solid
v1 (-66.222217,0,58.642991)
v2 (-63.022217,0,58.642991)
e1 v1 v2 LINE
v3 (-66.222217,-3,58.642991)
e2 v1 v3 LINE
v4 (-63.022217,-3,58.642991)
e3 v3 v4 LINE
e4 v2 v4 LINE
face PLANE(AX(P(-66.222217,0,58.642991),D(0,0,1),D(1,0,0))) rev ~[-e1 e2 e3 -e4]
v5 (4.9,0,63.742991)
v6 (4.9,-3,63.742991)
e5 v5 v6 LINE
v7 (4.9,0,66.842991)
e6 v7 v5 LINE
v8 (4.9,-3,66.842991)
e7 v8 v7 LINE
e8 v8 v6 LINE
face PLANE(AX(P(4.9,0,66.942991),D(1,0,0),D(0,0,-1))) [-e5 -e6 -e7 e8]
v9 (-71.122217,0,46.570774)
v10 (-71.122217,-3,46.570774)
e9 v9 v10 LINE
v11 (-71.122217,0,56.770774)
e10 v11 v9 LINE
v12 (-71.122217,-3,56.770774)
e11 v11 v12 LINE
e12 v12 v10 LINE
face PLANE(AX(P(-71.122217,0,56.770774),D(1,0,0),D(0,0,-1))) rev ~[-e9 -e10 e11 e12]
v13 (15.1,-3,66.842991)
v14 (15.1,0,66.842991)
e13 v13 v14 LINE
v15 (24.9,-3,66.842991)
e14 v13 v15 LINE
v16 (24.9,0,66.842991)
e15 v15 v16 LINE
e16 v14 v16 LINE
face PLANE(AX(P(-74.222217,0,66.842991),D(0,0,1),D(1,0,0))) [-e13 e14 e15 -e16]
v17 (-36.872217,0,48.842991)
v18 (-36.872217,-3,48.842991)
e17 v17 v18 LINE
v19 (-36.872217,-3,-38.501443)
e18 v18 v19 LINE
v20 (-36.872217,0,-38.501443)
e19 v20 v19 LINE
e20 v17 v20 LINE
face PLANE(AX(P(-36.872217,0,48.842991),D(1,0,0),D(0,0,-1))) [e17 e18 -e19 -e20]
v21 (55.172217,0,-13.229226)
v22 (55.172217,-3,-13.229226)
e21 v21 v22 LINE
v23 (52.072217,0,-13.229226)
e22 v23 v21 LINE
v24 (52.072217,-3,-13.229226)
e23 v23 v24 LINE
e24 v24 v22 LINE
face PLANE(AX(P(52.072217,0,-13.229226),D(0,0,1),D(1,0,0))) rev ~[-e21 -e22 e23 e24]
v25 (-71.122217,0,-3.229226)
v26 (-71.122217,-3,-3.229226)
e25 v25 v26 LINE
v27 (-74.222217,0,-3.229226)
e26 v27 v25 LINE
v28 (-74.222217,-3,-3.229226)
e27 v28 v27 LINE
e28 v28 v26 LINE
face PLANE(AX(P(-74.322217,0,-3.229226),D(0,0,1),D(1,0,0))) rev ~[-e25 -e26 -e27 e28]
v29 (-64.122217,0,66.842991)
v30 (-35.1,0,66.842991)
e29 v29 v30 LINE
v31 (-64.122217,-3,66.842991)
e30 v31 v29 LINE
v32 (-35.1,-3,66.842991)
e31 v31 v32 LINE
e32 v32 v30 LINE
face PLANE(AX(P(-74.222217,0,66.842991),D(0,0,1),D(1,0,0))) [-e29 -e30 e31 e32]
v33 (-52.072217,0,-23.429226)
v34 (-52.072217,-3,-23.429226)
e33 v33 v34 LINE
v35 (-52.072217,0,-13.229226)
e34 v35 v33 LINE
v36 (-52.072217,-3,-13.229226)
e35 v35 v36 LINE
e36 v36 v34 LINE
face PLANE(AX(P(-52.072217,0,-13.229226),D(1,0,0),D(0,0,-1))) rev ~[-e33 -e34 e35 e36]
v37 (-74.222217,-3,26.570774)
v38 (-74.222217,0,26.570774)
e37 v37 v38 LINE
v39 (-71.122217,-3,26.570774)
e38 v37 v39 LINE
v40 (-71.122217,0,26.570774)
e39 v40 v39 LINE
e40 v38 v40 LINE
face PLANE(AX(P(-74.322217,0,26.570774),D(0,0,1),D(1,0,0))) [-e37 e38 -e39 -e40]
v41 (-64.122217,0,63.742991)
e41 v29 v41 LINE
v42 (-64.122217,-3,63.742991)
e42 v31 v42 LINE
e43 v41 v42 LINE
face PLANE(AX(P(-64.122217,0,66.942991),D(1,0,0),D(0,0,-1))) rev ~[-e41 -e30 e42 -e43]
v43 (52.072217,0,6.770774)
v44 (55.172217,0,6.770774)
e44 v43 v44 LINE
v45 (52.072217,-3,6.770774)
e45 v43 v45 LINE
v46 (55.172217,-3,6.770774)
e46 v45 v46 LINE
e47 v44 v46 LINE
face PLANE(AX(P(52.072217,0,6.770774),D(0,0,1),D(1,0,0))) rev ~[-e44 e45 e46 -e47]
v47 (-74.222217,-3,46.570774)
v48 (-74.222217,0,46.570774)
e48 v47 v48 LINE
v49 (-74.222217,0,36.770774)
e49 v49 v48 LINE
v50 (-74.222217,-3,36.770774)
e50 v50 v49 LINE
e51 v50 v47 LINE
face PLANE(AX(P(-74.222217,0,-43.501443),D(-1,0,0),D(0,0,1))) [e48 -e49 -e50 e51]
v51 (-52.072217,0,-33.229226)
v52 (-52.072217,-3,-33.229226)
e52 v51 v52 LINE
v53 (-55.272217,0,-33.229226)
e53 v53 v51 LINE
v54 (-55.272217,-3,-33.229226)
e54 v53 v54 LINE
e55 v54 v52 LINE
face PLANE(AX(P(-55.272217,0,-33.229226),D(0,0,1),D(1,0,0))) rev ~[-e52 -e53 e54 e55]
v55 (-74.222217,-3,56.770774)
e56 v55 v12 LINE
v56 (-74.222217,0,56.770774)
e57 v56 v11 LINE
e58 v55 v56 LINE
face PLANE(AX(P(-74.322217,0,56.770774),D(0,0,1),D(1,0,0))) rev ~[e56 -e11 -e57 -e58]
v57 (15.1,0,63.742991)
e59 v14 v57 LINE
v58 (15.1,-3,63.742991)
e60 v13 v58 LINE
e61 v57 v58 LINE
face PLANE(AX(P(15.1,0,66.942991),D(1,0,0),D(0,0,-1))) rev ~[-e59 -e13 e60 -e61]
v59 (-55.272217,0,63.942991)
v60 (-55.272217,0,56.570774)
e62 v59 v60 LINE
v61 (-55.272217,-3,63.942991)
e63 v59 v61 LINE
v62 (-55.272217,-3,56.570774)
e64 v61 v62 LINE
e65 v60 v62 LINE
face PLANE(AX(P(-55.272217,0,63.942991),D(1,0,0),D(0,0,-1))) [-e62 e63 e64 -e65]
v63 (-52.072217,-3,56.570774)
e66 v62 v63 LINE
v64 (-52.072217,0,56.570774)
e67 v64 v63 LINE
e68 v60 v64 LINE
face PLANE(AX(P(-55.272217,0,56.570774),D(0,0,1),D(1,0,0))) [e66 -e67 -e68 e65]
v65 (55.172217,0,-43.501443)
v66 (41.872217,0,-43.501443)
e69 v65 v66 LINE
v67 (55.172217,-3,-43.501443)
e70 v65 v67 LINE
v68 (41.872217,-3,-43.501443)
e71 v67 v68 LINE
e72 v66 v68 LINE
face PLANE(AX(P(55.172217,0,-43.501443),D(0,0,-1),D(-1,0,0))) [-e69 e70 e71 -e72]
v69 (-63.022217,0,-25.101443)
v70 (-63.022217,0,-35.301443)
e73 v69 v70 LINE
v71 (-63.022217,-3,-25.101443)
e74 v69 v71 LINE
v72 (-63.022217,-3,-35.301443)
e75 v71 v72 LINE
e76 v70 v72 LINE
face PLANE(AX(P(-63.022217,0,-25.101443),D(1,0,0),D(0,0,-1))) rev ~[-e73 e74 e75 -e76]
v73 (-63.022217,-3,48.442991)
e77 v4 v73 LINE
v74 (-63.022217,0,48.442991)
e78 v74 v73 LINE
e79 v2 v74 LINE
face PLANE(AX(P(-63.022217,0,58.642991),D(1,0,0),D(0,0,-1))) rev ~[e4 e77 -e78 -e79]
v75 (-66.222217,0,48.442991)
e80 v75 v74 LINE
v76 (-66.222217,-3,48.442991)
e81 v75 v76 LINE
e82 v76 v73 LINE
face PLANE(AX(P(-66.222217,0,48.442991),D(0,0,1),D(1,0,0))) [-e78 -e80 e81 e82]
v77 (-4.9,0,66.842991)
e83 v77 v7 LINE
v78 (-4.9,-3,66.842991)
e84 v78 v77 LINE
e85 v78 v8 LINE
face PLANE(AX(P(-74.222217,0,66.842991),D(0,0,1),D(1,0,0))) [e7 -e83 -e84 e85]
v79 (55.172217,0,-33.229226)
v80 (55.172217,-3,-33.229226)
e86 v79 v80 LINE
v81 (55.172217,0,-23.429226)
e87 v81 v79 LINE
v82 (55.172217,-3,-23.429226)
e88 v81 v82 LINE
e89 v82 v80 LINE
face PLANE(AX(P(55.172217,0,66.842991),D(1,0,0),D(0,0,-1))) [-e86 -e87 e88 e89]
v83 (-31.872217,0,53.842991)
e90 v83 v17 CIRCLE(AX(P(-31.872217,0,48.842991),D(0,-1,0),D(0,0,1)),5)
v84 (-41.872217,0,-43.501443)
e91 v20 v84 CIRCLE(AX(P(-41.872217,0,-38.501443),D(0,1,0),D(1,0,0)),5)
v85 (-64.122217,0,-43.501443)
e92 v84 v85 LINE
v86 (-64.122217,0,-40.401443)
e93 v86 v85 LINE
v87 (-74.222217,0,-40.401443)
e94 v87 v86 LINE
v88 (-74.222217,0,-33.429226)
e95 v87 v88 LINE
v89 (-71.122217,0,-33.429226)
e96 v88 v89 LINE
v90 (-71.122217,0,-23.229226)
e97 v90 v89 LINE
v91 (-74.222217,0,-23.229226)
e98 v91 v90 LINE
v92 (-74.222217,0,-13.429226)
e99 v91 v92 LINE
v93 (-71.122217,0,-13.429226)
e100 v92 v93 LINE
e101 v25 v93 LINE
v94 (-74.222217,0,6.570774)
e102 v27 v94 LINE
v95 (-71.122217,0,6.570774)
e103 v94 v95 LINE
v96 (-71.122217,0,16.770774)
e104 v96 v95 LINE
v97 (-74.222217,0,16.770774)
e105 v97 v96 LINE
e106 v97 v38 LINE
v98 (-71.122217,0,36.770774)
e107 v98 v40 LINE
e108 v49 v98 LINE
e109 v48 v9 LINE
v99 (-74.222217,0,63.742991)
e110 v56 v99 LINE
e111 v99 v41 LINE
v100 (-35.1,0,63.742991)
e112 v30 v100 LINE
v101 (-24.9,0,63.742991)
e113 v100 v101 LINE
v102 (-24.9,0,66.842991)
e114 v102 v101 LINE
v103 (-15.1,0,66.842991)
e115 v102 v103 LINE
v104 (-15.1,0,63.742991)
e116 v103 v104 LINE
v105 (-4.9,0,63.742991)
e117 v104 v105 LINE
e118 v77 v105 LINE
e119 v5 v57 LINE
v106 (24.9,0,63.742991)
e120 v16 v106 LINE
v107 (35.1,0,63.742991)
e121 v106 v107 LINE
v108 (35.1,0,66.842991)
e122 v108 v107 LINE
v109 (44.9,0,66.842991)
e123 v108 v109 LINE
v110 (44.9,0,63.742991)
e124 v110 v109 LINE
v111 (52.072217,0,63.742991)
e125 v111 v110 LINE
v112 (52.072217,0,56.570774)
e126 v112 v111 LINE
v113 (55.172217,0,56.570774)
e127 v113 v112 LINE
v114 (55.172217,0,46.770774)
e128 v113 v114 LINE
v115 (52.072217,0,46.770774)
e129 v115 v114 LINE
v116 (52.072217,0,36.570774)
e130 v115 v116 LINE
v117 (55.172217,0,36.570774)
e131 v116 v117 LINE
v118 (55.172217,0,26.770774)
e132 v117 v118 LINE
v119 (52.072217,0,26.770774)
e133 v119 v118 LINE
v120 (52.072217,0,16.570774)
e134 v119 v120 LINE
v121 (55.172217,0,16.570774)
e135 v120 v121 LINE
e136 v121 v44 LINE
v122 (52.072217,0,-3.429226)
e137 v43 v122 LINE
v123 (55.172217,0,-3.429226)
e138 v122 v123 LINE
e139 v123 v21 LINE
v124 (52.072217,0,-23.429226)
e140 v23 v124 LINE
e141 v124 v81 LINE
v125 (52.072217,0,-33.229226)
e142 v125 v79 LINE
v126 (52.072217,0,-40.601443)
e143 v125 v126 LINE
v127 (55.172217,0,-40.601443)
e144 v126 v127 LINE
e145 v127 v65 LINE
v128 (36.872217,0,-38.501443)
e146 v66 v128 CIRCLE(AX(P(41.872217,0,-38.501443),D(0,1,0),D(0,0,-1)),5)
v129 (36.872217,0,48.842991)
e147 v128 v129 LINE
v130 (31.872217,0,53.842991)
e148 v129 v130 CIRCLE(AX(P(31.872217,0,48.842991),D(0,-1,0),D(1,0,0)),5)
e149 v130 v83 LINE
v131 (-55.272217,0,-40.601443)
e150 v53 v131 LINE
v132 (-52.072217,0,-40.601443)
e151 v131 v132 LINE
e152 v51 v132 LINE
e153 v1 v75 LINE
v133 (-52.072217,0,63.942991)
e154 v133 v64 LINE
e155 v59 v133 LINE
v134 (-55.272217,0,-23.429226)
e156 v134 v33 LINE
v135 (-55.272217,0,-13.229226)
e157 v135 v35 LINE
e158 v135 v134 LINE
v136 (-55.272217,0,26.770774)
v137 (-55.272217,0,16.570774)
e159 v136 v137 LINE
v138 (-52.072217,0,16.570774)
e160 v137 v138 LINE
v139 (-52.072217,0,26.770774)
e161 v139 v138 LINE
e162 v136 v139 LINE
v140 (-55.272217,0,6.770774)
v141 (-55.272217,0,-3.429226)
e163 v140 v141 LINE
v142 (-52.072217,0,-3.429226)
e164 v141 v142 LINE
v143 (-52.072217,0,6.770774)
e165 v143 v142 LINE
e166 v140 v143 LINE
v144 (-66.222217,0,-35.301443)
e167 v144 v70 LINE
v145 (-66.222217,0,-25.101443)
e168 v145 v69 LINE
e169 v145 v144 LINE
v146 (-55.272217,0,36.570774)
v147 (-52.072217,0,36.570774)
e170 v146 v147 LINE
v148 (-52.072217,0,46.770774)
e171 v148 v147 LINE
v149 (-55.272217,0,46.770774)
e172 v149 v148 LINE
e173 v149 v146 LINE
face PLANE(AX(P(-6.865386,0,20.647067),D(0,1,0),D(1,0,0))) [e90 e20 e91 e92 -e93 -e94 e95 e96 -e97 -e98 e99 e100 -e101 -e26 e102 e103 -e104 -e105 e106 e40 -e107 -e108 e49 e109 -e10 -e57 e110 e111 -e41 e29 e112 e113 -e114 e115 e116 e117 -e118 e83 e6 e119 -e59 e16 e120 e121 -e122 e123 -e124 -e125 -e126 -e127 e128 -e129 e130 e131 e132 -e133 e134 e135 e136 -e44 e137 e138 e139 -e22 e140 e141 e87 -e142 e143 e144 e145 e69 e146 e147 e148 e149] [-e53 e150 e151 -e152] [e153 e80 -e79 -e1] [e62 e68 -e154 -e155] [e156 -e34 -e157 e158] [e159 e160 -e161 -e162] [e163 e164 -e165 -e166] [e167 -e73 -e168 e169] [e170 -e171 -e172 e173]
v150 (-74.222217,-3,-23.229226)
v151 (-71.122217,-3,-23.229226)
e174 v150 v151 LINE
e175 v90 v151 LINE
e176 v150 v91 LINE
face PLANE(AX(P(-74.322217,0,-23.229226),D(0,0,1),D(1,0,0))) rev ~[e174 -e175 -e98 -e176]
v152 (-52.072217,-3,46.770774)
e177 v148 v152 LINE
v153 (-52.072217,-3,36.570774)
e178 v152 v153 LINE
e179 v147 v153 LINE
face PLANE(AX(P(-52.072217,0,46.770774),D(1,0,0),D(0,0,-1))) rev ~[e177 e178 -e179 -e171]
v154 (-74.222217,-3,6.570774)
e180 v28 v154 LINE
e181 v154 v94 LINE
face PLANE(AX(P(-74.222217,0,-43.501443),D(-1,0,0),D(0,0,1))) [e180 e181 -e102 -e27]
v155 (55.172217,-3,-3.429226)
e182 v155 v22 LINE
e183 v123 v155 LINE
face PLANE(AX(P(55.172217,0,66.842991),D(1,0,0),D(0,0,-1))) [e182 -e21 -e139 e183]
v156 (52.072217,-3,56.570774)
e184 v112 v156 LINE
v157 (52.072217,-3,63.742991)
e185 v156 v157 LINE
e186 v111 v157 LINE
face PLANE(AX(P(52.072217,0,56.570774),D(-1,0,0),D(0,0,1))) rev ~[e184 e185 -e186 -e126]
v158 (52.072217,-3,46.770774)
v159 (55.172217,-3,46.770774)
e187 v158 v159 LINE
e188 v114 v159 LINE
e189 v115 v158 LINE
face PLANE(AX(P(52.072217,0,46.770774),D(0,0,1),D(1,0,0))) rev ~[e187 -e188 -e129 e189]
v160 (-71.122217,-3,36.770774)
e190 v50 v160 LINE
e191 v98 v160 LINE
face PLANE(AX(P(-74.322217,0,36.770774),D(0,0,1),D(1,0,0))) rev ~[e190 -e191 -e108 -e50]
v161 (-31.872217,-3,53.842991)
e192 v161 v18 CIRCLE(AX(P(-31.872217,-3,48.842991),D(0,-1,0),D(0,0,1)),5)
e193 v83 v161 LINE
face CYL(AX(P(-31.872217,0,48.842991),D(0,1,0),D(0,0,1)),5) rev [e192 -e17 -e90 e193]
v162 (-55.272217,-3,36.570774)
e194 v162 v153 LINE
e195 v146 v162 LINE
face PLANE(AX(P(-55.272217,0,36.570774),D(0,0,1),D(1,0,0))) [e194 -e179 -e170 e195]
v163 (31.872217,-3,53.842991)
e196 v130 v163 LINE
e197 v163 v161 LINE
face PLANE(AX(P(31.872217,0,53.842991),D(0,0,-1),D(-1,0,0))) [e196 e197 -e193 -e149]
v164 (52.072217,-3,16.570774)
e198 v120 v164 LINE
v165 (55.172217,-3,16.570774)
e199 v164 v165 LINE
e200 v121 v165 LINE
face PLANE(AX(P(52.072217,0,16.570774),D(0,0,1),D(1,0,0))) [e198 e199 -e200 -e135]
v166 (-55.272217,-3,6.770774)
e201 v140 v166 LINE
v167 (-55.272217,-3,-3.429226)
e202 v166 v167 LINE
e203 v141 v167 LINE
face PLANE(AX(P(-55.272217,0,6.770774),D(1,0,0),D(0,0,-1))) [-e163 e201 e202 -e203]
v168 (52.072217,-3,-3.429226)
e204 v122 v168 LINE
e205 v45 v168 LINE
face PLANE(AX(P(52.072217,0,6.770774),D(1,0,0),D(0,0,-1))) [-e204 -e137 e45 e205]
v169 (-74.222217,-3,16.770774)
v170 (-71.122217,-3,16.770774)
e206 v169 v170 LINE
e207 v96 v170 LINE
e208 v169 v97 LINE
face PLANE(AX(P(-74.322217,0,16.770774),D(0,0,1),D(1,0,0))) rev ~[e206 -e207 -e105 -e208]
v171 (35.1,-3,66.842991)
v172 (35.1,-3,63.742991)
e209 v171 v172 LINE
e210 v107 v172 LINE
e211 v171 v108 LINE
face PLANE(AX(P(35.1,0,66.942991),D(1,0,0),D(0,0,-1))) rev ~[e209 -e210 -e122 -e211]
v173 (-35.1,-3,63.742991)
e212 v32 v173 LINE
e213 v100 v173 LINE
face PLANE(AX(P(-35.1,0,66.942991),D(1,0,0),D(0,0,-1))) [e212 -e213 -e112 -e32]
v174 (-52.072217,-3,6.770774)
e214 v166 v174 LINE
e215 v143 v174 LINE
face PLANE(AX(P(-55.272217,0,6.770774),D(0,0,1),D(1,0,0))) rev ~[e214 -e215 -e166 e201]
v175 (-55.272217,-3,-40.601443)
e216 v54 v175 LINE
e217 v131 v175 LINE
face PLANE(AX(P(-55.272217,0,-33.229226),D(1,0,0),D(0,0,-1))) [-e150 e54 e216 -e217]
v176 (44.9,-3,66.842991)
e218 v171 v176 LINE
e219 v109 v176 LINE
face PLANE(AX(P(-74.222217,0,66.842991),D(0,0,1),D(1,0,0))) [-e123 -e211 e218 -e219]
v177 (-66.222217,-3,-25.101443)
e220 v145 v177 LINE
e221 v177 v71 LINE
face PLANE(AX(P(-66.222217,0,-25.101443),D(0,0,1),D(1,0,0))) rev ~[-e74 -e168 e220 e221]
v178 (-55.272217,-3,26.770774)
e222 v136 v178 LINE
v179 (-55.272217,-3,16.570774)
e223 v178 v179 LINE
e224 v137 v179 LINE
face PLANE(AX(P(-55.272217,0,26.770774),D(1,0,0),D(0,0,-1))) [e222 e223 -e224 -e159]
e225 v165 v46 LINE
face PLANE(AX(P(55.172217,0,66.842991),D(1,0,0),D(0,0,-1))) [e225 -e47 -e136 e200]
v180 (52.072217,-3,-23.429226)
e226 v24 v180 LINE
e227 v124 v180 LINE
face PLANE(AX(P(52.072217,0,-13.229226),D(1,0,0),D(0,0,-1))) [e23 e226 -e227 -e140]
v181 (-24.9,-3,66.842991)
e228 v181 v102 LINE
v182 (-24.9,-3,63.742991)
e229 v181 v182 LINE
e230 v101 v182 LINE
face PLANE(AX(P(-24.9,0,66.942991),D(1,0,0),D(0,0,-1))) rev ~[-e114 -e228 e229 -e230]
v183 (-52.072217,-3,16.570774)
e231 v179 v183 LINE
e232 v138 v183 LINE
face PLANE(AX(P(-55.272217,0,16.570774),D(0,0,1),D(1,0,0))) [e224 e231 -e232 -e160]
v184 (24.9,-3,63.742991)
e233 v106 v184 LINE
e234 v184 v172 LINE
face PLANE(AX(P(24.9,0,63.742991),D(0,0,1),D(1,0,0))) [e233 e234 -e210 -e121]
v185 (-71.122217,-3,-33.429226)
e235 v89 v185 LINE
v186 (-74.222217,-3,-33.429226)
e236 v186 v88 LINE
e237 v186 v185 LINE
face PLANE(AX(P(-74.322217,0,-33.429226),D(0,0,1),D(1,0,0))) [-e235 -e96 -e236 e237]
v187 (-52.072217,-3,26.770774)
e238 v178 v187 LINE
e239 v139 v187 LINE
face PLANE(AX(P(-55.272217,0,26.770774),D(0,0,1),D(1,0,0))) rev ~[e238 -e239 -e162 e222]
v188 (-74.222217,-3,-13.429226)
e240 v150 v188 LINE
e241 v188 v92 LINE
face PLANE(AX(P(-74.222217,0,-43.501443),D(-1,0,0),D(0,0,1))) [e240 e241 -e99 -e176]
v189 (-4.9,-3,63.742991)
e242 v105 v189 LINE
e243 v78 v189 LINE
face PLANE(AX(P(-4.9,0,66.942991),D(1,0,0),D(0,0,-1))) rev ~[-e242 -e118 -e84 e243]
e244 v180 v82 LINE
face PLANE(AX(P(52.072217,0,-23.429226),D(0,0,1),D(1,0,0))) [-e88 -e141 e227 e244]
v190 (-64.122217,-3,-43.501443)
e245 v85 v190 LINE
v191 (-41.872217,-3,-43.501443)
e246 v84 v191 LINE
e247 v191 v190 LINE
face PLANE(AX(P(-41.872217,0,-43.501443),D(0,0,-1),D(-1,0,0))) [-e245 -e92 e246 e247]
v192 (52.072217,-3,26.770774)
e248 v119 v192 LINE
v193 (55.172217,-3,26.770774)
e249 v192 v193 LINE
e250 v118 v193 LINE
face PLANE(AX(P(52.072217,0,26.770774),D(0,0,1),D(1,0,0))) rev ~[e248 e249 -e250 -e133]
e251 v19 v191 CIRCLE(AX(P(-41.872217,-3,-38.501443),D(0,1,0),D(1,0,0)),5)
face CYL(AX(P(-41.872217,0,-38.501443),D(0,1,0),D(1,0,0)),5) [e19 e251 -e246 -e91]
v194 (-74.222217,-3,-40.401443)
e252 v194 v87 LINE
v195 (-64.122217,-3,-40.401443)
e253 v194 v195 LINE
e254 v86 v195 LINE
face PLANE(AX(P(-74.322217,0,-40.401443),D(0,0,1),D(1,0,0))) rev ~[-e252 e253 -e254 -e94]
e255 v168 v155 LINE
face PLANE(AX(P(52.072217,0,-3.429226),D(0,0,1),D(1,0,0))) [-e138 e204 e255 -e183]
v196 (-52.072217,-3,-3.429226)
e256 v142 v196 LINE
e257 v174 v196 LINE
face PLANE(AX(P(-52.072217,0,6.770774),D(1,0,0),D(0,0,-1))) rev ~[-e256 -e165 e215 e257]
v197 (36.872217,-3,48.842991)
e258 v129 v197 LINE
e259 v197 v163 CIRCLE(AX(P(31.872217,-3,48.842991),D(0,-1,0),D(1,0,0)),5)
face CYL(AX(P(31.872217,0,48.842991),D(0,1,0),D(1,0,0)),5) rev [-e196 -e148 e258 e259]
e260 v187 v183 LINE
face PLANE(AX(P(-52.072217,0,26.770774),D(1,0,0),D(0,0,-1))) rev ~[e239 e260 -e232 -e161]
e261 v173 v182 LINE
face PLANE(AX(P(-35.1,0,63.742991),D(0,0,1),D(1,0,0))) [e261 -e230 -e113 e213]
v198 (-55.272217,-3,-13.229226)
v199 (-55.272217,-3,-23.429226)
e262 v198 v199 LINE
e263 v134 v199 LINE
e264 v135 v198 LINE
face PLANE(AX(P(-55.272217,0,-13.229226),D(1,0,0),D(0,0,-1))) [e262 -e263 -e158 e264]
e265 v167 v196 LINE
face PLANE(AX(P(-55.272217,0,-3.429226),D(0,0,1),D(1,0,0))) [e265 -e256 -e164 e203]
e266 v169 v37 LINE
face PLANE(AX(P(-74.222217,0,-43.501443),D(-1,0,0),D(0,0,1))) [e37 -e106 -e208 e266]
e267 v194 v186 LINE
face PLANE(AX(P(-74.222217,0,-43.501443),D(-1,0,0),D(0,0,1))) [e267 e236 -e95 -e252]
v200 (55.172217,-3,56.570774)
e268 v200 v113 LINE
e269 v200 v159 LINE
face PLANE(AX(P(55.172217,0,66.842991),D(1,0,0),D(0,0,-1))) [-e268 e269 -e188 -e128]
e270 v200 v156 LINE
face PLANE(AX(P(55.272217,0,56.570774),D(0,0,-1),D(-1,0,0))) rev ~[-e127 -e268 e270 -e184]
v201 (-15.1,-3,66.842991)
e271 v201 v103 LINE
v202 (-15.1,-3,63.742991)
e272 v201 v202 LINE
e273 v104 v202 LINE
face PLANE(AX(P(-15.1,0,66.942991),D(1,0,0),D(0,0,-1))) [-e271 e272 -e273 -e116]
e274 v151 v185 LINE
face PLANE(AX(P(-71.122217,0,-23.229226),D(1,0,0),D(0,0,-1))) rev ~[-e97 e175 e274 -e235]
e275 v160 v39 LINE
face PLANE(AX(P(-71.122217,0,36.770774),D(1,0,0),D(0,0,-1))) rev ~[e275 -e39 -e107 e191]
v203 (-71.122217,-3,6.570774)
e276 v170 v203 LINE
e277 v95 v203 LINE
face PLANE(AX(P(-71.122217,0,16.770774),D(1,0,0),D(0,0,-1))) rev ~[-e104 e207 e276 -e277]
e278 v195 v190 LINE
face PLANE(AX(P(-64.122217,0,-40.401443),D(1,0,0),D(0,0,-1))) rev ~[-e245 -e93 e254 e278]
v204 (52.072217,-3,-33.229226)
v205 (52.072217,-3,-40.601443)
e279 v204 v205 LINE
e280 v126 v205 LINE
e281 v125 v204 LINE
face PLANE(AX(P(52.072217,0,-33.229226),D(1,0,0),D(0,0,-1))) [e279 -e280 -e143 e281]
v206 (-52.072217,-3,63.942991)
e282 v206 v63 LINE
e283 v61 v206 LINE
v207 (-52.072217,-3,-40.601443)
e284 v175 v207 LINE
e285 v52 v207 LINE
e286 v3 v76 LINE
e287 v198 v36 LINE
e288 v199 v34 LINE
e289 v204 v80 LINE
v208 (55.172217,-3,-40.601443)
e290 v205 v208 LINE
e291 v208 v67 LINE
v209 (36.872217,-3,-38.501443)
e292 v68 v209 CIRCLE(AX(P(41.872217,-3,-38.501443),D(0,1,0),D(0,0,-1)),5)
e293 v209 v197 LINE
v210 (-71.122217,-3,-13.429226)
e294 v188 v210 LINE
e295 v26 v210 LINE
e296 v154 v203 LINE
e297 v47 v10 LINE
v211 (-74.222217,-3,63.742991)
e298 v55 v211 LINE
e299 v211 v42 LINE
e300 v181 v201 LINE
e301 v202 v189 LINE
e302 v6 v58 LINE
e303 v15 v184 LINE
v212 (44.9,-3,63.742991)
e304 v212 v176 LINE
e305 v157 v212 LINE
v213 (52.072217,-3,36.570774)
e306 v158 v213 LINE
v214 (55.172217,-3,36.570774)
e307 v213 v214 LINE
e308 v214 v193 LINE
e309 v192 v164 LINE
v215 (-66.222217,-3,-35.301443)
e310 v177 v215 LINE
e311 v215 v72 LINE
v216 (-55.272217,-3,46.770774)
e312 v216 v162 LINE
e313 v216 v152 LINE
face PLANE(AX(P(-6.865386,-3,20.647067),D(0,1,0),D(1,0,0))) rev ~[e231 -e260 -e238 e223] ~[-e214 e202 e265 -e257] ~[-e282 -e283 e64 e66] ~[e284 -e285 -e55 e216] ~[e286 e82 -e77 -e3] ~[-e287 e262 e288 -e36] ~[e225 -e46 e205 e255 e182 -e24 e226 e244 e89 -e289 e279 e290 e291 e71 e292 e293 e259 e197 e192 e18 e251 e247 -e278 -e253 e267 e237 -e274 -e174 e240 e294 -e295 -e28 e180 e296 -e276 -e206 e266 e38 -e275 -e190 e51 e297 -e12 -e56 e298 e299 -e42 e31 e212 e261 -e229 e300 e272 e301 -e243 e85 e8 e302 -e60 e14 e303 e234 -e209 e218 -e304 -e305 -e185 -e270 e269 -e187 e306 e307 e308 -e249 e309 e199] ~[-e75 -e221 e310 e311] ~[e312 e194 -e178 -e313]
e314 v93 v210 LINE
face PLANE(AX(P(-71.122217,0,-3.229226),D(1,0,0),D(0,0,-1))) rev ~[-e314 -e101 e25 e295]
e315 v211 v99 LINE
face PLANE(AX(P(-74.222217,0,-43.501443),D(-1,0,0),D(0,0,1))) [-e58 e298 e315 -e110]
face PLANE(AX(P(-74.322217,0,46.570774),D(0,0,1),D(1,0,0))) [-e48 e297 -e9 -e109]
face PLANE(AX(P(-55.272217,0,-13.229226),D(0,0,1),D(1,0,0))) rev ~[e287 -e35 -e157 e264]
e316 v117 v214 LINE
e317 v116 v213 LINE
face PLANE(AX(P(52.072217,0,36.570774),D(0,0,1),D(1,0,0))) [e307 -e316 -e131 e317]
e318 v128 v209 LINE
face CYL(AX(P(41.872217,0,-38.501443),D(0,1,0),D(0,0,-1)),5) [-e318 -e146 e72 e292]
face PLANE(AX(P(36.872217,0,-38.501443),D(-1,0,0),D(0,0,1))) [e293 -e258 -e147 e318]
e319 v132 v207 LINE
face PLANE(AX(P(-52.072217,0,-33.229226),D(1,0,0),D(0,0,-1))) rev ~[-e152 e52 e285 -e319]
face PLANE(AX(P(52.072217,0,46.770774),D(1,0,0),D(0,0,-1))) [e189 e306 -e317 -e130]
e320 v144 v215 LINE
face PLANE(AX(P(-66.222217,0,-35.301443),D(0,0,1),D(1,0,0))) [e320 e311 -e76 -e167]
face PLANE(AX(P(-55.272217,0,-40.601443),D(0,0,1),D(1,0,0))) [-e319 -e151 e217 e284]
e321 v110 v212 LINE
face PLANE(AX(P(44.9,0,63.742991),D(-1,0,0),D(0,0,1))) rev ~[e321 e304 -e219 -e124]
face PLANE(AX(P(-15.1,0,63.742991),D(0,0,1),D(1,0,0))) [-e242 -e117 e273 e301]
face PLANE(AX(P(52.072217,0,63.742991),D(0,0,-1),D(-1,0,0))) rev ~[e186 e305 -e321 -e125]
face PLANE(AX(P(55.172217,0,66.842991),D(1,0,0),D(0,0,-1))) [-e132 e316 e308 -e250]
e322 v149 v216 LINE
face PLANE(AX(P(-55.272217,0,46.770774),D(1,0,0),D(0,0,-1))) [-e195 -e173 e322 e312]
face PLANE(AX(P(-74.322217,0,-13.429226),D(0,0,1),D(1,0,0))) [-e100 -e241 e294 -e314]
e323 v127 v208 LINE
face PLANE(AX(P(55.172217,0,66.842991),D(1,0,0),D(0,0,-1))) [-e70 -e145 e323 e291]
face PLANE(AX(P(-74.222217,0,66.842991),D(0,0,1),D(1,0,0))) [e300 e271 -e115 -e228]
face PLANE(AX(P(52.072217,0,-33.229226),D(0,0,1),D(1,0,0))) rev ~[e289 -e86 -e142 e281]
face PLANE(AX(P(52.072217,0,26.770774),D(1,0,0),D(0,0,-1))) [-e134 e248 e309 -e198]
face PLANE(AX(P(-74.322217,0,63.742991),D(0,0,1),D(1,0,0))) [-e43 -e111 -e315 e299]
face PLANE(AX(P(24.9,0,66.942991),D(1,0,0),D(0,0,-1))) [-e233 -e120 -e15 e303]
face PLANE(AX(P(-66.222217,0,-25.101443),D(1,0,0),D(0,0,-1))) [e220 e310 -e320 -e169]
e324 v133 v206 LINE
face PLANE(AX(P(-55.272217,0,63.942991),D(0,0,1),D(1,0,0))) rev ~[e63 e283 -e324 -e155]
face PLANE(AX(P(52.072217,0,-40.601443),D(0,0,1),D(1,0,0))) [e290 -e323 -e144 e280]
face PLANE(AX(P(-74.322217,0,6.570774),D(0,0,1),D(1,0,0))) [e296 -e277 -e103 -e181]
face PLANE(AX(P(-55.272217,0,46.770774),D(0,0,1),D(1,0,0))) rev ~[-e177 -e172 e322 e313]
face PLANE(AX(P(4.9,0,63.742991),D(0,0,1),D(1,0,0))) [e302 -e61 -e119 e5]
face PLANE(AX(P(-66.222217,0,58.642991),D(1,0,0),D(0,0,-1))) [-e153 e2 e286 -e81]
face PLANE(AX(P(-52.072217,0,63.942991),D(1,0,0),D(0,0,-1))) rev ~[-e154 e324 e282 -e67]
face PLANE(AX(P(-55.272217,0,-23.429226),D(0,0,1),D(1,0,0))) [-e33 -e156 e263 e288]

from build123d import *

# Parameters (mm, degrees)
BOSS_EXTRUDE1_DEPTH = 3
SKETCH3_W           = 10.2
SKETCH3_H           = 3.2
SKETCH3_W_2         = 3.2
SKETCH3_H_2         = 10.2
SKETCH3_H_3         = 7.372217102
CUT_EXTRUDE1_DEPTH  = 4


with BuildPart() as part:
    # Sketch2 → Boss-Extrude1 (new body)
    with BuildSketch(Plane(origin=(0, 0, 0), x_dir=(1, 0, 0), z_dir=(0, 1, 0))):
        with BuildLine():
            Line((-74.222217102, -66.842990858), (55.172217102, -66.842990858))
            Line((55.172217102, -66.842990858), (55.172217102, 43.501443346))
            Line((55.172217102, 43.501443346), (41.872217102, 43.501443346))
            ThreePointArc((41.872217102, 43.501443346), (38.336683196, 42.036977252), (36.872217102, 38.501443346))
            Line((36.872217102, 38.501443346), (36.872217102, -48.842990858))
            ThreePointArc((36.872217102, -48.842990858), (35.407751008, -52.378524764), (31.872217102, -53.842990858))
            Line((31.872217102, -53.842990858), (-31.872217102, -53.842990858))
            ThreePointArc((-31.872217102, -53.842990858), (-35.407751008, -52.378524764), (-36.872217102, -48.842990858))
            Line((-36.872217102, -48.842990858), (-36.872217102, 38.501443346))
            ThreePointArc((-36.872217102, 38.501443346), (-38.336683196, 42.036977252), (-41.872217102, 43.501443346))
            Line((-41.872217102, 43.501443346), (-74.222217102, 43.501443346))
            Line((-74.222217102, 43.501443346), (-74.222217102, -66.842990858))
        make_face()
    extrude(amount=-BOSS_EXTRUDE1_DEPTH)

    # Sketch3 → Cut-Extrude1 (cut, through all)
    with BuildSketch(Plane(origin=(0, 0, 0), x_dir=(1, 0, 0), z_dir=(0, 1, 0))):
        with Locations((-69.222217102, -65.342990858)):
            Rectangle(SKETCH3_W, SKETCH3_H)
        with Locations((-53.672217102, 18.329226244)):
            Rectangle(SKETCH3_W_2, SKETCH3_H_2)
        with Locations((-53.672217102, -1.670773756)):
            Rectangle(SKETCH3_W_2, SKETCH3_H_2)
        with Locations((-30, -65.342990858)):
            Rectangle(SKETCH3_W, SKETCH3_H)
        with Locations((-10, -65.342990858)):
            Rectangle(SKETCH3_W, SKETCH3_H)
        with Locations((-53.672217102, 36.915334795)):
            Rectangle(SKETCH3_W_2, SKETCH3_H_3)
        with Locations((30, -65.342990858)):
            Rectangle(SKETCH3_W, SKETCH3_H)
        with Locations((-53.672217102, -41.670773756)):
            Rectangle(SKETCH3_W_2, SKETCH3_H_2)
        with Locations((-53.672217102, -21.670773756)):
            Rectangle(SKETCH3_W_2, SKETCH3_H_2)
        with Locations((-53.672217102, -60.256882307)):
            Rectangle(SKETCH3_W_2, SKETCH3_H_3)
        Polygon((52.072217102, -56.570773756), (52.072217102, -63.742990858), (44.9, -63.742990858), (44.9, -66.942990858), (55.272217102, -66.942990858), (55.272217102, -56.570773756), align=None)
        with Locations((53.672217102, -21.670773756)):
            Rectangle(SKETCH3_W_2, SKETCH3_H_2)
        with Locations((53.672217102, -41.670773756)):
            Rectangle(SKETCH3_W_2, SKETCH3_H_2)
        with Locations((10, -65.342990858)):
            Rectangle(SKETCH3_W, SKETCH3_H)
        with Locations((53.672217102, 18.329226244)):
            Rectangle(SKETCH3_W_2, SKETCH3_H_2)
        with Locations((53.672217102, -1.670773756)):
            Rectangle(SKETCH3_W_2, SKETCH3_H_2)
        with Locations((53.672217102, 36.915334795)):
            Rectangle(SKETCH3_W_2, SKETCH3_H_3)
        with Locations((-72.722217102, 28.329226244)):
            Rectangle(SKETCH3_W_2, SKETCH3_H_2)
        with Locations((-72.722217102, 8.329226244)):
            Rectangle(SKETCH3_W_2, SKETCH3_H_2)
        with Locations((-72.722217102, -11.670773756)):
            Rectangle(SKETCH3_W_2, SKETCH3_H_2)
        with Locations((-69.222217102, 42.001443346)):
            Rectangle(SKETCH3_W, SKETCH3_H)
        with Locations((-64.622217102, -53.542990858)):
            Rectangle(SKETCH3_W_2, SKETCH3_H_2)
        with Locations((-64.622217102, 30.201443346)):
            Rectangle(SKETCH3_W_2, SKETCH3_H_2)
        with Locations((-72.722217102, -51.670773756)):
            Rectangle(SKETCH3_W_2, SKETCH3_H_2)
        with Locations((-72.722217102, -31.670773756)):
            Rectangle(SKETCH3_W_2, SKETCH3_H_2)
    extrude(amount=-CUT_EXTRUDE1_DEPTH, mode=Mode.SUBTRACT)


solid = part.part
